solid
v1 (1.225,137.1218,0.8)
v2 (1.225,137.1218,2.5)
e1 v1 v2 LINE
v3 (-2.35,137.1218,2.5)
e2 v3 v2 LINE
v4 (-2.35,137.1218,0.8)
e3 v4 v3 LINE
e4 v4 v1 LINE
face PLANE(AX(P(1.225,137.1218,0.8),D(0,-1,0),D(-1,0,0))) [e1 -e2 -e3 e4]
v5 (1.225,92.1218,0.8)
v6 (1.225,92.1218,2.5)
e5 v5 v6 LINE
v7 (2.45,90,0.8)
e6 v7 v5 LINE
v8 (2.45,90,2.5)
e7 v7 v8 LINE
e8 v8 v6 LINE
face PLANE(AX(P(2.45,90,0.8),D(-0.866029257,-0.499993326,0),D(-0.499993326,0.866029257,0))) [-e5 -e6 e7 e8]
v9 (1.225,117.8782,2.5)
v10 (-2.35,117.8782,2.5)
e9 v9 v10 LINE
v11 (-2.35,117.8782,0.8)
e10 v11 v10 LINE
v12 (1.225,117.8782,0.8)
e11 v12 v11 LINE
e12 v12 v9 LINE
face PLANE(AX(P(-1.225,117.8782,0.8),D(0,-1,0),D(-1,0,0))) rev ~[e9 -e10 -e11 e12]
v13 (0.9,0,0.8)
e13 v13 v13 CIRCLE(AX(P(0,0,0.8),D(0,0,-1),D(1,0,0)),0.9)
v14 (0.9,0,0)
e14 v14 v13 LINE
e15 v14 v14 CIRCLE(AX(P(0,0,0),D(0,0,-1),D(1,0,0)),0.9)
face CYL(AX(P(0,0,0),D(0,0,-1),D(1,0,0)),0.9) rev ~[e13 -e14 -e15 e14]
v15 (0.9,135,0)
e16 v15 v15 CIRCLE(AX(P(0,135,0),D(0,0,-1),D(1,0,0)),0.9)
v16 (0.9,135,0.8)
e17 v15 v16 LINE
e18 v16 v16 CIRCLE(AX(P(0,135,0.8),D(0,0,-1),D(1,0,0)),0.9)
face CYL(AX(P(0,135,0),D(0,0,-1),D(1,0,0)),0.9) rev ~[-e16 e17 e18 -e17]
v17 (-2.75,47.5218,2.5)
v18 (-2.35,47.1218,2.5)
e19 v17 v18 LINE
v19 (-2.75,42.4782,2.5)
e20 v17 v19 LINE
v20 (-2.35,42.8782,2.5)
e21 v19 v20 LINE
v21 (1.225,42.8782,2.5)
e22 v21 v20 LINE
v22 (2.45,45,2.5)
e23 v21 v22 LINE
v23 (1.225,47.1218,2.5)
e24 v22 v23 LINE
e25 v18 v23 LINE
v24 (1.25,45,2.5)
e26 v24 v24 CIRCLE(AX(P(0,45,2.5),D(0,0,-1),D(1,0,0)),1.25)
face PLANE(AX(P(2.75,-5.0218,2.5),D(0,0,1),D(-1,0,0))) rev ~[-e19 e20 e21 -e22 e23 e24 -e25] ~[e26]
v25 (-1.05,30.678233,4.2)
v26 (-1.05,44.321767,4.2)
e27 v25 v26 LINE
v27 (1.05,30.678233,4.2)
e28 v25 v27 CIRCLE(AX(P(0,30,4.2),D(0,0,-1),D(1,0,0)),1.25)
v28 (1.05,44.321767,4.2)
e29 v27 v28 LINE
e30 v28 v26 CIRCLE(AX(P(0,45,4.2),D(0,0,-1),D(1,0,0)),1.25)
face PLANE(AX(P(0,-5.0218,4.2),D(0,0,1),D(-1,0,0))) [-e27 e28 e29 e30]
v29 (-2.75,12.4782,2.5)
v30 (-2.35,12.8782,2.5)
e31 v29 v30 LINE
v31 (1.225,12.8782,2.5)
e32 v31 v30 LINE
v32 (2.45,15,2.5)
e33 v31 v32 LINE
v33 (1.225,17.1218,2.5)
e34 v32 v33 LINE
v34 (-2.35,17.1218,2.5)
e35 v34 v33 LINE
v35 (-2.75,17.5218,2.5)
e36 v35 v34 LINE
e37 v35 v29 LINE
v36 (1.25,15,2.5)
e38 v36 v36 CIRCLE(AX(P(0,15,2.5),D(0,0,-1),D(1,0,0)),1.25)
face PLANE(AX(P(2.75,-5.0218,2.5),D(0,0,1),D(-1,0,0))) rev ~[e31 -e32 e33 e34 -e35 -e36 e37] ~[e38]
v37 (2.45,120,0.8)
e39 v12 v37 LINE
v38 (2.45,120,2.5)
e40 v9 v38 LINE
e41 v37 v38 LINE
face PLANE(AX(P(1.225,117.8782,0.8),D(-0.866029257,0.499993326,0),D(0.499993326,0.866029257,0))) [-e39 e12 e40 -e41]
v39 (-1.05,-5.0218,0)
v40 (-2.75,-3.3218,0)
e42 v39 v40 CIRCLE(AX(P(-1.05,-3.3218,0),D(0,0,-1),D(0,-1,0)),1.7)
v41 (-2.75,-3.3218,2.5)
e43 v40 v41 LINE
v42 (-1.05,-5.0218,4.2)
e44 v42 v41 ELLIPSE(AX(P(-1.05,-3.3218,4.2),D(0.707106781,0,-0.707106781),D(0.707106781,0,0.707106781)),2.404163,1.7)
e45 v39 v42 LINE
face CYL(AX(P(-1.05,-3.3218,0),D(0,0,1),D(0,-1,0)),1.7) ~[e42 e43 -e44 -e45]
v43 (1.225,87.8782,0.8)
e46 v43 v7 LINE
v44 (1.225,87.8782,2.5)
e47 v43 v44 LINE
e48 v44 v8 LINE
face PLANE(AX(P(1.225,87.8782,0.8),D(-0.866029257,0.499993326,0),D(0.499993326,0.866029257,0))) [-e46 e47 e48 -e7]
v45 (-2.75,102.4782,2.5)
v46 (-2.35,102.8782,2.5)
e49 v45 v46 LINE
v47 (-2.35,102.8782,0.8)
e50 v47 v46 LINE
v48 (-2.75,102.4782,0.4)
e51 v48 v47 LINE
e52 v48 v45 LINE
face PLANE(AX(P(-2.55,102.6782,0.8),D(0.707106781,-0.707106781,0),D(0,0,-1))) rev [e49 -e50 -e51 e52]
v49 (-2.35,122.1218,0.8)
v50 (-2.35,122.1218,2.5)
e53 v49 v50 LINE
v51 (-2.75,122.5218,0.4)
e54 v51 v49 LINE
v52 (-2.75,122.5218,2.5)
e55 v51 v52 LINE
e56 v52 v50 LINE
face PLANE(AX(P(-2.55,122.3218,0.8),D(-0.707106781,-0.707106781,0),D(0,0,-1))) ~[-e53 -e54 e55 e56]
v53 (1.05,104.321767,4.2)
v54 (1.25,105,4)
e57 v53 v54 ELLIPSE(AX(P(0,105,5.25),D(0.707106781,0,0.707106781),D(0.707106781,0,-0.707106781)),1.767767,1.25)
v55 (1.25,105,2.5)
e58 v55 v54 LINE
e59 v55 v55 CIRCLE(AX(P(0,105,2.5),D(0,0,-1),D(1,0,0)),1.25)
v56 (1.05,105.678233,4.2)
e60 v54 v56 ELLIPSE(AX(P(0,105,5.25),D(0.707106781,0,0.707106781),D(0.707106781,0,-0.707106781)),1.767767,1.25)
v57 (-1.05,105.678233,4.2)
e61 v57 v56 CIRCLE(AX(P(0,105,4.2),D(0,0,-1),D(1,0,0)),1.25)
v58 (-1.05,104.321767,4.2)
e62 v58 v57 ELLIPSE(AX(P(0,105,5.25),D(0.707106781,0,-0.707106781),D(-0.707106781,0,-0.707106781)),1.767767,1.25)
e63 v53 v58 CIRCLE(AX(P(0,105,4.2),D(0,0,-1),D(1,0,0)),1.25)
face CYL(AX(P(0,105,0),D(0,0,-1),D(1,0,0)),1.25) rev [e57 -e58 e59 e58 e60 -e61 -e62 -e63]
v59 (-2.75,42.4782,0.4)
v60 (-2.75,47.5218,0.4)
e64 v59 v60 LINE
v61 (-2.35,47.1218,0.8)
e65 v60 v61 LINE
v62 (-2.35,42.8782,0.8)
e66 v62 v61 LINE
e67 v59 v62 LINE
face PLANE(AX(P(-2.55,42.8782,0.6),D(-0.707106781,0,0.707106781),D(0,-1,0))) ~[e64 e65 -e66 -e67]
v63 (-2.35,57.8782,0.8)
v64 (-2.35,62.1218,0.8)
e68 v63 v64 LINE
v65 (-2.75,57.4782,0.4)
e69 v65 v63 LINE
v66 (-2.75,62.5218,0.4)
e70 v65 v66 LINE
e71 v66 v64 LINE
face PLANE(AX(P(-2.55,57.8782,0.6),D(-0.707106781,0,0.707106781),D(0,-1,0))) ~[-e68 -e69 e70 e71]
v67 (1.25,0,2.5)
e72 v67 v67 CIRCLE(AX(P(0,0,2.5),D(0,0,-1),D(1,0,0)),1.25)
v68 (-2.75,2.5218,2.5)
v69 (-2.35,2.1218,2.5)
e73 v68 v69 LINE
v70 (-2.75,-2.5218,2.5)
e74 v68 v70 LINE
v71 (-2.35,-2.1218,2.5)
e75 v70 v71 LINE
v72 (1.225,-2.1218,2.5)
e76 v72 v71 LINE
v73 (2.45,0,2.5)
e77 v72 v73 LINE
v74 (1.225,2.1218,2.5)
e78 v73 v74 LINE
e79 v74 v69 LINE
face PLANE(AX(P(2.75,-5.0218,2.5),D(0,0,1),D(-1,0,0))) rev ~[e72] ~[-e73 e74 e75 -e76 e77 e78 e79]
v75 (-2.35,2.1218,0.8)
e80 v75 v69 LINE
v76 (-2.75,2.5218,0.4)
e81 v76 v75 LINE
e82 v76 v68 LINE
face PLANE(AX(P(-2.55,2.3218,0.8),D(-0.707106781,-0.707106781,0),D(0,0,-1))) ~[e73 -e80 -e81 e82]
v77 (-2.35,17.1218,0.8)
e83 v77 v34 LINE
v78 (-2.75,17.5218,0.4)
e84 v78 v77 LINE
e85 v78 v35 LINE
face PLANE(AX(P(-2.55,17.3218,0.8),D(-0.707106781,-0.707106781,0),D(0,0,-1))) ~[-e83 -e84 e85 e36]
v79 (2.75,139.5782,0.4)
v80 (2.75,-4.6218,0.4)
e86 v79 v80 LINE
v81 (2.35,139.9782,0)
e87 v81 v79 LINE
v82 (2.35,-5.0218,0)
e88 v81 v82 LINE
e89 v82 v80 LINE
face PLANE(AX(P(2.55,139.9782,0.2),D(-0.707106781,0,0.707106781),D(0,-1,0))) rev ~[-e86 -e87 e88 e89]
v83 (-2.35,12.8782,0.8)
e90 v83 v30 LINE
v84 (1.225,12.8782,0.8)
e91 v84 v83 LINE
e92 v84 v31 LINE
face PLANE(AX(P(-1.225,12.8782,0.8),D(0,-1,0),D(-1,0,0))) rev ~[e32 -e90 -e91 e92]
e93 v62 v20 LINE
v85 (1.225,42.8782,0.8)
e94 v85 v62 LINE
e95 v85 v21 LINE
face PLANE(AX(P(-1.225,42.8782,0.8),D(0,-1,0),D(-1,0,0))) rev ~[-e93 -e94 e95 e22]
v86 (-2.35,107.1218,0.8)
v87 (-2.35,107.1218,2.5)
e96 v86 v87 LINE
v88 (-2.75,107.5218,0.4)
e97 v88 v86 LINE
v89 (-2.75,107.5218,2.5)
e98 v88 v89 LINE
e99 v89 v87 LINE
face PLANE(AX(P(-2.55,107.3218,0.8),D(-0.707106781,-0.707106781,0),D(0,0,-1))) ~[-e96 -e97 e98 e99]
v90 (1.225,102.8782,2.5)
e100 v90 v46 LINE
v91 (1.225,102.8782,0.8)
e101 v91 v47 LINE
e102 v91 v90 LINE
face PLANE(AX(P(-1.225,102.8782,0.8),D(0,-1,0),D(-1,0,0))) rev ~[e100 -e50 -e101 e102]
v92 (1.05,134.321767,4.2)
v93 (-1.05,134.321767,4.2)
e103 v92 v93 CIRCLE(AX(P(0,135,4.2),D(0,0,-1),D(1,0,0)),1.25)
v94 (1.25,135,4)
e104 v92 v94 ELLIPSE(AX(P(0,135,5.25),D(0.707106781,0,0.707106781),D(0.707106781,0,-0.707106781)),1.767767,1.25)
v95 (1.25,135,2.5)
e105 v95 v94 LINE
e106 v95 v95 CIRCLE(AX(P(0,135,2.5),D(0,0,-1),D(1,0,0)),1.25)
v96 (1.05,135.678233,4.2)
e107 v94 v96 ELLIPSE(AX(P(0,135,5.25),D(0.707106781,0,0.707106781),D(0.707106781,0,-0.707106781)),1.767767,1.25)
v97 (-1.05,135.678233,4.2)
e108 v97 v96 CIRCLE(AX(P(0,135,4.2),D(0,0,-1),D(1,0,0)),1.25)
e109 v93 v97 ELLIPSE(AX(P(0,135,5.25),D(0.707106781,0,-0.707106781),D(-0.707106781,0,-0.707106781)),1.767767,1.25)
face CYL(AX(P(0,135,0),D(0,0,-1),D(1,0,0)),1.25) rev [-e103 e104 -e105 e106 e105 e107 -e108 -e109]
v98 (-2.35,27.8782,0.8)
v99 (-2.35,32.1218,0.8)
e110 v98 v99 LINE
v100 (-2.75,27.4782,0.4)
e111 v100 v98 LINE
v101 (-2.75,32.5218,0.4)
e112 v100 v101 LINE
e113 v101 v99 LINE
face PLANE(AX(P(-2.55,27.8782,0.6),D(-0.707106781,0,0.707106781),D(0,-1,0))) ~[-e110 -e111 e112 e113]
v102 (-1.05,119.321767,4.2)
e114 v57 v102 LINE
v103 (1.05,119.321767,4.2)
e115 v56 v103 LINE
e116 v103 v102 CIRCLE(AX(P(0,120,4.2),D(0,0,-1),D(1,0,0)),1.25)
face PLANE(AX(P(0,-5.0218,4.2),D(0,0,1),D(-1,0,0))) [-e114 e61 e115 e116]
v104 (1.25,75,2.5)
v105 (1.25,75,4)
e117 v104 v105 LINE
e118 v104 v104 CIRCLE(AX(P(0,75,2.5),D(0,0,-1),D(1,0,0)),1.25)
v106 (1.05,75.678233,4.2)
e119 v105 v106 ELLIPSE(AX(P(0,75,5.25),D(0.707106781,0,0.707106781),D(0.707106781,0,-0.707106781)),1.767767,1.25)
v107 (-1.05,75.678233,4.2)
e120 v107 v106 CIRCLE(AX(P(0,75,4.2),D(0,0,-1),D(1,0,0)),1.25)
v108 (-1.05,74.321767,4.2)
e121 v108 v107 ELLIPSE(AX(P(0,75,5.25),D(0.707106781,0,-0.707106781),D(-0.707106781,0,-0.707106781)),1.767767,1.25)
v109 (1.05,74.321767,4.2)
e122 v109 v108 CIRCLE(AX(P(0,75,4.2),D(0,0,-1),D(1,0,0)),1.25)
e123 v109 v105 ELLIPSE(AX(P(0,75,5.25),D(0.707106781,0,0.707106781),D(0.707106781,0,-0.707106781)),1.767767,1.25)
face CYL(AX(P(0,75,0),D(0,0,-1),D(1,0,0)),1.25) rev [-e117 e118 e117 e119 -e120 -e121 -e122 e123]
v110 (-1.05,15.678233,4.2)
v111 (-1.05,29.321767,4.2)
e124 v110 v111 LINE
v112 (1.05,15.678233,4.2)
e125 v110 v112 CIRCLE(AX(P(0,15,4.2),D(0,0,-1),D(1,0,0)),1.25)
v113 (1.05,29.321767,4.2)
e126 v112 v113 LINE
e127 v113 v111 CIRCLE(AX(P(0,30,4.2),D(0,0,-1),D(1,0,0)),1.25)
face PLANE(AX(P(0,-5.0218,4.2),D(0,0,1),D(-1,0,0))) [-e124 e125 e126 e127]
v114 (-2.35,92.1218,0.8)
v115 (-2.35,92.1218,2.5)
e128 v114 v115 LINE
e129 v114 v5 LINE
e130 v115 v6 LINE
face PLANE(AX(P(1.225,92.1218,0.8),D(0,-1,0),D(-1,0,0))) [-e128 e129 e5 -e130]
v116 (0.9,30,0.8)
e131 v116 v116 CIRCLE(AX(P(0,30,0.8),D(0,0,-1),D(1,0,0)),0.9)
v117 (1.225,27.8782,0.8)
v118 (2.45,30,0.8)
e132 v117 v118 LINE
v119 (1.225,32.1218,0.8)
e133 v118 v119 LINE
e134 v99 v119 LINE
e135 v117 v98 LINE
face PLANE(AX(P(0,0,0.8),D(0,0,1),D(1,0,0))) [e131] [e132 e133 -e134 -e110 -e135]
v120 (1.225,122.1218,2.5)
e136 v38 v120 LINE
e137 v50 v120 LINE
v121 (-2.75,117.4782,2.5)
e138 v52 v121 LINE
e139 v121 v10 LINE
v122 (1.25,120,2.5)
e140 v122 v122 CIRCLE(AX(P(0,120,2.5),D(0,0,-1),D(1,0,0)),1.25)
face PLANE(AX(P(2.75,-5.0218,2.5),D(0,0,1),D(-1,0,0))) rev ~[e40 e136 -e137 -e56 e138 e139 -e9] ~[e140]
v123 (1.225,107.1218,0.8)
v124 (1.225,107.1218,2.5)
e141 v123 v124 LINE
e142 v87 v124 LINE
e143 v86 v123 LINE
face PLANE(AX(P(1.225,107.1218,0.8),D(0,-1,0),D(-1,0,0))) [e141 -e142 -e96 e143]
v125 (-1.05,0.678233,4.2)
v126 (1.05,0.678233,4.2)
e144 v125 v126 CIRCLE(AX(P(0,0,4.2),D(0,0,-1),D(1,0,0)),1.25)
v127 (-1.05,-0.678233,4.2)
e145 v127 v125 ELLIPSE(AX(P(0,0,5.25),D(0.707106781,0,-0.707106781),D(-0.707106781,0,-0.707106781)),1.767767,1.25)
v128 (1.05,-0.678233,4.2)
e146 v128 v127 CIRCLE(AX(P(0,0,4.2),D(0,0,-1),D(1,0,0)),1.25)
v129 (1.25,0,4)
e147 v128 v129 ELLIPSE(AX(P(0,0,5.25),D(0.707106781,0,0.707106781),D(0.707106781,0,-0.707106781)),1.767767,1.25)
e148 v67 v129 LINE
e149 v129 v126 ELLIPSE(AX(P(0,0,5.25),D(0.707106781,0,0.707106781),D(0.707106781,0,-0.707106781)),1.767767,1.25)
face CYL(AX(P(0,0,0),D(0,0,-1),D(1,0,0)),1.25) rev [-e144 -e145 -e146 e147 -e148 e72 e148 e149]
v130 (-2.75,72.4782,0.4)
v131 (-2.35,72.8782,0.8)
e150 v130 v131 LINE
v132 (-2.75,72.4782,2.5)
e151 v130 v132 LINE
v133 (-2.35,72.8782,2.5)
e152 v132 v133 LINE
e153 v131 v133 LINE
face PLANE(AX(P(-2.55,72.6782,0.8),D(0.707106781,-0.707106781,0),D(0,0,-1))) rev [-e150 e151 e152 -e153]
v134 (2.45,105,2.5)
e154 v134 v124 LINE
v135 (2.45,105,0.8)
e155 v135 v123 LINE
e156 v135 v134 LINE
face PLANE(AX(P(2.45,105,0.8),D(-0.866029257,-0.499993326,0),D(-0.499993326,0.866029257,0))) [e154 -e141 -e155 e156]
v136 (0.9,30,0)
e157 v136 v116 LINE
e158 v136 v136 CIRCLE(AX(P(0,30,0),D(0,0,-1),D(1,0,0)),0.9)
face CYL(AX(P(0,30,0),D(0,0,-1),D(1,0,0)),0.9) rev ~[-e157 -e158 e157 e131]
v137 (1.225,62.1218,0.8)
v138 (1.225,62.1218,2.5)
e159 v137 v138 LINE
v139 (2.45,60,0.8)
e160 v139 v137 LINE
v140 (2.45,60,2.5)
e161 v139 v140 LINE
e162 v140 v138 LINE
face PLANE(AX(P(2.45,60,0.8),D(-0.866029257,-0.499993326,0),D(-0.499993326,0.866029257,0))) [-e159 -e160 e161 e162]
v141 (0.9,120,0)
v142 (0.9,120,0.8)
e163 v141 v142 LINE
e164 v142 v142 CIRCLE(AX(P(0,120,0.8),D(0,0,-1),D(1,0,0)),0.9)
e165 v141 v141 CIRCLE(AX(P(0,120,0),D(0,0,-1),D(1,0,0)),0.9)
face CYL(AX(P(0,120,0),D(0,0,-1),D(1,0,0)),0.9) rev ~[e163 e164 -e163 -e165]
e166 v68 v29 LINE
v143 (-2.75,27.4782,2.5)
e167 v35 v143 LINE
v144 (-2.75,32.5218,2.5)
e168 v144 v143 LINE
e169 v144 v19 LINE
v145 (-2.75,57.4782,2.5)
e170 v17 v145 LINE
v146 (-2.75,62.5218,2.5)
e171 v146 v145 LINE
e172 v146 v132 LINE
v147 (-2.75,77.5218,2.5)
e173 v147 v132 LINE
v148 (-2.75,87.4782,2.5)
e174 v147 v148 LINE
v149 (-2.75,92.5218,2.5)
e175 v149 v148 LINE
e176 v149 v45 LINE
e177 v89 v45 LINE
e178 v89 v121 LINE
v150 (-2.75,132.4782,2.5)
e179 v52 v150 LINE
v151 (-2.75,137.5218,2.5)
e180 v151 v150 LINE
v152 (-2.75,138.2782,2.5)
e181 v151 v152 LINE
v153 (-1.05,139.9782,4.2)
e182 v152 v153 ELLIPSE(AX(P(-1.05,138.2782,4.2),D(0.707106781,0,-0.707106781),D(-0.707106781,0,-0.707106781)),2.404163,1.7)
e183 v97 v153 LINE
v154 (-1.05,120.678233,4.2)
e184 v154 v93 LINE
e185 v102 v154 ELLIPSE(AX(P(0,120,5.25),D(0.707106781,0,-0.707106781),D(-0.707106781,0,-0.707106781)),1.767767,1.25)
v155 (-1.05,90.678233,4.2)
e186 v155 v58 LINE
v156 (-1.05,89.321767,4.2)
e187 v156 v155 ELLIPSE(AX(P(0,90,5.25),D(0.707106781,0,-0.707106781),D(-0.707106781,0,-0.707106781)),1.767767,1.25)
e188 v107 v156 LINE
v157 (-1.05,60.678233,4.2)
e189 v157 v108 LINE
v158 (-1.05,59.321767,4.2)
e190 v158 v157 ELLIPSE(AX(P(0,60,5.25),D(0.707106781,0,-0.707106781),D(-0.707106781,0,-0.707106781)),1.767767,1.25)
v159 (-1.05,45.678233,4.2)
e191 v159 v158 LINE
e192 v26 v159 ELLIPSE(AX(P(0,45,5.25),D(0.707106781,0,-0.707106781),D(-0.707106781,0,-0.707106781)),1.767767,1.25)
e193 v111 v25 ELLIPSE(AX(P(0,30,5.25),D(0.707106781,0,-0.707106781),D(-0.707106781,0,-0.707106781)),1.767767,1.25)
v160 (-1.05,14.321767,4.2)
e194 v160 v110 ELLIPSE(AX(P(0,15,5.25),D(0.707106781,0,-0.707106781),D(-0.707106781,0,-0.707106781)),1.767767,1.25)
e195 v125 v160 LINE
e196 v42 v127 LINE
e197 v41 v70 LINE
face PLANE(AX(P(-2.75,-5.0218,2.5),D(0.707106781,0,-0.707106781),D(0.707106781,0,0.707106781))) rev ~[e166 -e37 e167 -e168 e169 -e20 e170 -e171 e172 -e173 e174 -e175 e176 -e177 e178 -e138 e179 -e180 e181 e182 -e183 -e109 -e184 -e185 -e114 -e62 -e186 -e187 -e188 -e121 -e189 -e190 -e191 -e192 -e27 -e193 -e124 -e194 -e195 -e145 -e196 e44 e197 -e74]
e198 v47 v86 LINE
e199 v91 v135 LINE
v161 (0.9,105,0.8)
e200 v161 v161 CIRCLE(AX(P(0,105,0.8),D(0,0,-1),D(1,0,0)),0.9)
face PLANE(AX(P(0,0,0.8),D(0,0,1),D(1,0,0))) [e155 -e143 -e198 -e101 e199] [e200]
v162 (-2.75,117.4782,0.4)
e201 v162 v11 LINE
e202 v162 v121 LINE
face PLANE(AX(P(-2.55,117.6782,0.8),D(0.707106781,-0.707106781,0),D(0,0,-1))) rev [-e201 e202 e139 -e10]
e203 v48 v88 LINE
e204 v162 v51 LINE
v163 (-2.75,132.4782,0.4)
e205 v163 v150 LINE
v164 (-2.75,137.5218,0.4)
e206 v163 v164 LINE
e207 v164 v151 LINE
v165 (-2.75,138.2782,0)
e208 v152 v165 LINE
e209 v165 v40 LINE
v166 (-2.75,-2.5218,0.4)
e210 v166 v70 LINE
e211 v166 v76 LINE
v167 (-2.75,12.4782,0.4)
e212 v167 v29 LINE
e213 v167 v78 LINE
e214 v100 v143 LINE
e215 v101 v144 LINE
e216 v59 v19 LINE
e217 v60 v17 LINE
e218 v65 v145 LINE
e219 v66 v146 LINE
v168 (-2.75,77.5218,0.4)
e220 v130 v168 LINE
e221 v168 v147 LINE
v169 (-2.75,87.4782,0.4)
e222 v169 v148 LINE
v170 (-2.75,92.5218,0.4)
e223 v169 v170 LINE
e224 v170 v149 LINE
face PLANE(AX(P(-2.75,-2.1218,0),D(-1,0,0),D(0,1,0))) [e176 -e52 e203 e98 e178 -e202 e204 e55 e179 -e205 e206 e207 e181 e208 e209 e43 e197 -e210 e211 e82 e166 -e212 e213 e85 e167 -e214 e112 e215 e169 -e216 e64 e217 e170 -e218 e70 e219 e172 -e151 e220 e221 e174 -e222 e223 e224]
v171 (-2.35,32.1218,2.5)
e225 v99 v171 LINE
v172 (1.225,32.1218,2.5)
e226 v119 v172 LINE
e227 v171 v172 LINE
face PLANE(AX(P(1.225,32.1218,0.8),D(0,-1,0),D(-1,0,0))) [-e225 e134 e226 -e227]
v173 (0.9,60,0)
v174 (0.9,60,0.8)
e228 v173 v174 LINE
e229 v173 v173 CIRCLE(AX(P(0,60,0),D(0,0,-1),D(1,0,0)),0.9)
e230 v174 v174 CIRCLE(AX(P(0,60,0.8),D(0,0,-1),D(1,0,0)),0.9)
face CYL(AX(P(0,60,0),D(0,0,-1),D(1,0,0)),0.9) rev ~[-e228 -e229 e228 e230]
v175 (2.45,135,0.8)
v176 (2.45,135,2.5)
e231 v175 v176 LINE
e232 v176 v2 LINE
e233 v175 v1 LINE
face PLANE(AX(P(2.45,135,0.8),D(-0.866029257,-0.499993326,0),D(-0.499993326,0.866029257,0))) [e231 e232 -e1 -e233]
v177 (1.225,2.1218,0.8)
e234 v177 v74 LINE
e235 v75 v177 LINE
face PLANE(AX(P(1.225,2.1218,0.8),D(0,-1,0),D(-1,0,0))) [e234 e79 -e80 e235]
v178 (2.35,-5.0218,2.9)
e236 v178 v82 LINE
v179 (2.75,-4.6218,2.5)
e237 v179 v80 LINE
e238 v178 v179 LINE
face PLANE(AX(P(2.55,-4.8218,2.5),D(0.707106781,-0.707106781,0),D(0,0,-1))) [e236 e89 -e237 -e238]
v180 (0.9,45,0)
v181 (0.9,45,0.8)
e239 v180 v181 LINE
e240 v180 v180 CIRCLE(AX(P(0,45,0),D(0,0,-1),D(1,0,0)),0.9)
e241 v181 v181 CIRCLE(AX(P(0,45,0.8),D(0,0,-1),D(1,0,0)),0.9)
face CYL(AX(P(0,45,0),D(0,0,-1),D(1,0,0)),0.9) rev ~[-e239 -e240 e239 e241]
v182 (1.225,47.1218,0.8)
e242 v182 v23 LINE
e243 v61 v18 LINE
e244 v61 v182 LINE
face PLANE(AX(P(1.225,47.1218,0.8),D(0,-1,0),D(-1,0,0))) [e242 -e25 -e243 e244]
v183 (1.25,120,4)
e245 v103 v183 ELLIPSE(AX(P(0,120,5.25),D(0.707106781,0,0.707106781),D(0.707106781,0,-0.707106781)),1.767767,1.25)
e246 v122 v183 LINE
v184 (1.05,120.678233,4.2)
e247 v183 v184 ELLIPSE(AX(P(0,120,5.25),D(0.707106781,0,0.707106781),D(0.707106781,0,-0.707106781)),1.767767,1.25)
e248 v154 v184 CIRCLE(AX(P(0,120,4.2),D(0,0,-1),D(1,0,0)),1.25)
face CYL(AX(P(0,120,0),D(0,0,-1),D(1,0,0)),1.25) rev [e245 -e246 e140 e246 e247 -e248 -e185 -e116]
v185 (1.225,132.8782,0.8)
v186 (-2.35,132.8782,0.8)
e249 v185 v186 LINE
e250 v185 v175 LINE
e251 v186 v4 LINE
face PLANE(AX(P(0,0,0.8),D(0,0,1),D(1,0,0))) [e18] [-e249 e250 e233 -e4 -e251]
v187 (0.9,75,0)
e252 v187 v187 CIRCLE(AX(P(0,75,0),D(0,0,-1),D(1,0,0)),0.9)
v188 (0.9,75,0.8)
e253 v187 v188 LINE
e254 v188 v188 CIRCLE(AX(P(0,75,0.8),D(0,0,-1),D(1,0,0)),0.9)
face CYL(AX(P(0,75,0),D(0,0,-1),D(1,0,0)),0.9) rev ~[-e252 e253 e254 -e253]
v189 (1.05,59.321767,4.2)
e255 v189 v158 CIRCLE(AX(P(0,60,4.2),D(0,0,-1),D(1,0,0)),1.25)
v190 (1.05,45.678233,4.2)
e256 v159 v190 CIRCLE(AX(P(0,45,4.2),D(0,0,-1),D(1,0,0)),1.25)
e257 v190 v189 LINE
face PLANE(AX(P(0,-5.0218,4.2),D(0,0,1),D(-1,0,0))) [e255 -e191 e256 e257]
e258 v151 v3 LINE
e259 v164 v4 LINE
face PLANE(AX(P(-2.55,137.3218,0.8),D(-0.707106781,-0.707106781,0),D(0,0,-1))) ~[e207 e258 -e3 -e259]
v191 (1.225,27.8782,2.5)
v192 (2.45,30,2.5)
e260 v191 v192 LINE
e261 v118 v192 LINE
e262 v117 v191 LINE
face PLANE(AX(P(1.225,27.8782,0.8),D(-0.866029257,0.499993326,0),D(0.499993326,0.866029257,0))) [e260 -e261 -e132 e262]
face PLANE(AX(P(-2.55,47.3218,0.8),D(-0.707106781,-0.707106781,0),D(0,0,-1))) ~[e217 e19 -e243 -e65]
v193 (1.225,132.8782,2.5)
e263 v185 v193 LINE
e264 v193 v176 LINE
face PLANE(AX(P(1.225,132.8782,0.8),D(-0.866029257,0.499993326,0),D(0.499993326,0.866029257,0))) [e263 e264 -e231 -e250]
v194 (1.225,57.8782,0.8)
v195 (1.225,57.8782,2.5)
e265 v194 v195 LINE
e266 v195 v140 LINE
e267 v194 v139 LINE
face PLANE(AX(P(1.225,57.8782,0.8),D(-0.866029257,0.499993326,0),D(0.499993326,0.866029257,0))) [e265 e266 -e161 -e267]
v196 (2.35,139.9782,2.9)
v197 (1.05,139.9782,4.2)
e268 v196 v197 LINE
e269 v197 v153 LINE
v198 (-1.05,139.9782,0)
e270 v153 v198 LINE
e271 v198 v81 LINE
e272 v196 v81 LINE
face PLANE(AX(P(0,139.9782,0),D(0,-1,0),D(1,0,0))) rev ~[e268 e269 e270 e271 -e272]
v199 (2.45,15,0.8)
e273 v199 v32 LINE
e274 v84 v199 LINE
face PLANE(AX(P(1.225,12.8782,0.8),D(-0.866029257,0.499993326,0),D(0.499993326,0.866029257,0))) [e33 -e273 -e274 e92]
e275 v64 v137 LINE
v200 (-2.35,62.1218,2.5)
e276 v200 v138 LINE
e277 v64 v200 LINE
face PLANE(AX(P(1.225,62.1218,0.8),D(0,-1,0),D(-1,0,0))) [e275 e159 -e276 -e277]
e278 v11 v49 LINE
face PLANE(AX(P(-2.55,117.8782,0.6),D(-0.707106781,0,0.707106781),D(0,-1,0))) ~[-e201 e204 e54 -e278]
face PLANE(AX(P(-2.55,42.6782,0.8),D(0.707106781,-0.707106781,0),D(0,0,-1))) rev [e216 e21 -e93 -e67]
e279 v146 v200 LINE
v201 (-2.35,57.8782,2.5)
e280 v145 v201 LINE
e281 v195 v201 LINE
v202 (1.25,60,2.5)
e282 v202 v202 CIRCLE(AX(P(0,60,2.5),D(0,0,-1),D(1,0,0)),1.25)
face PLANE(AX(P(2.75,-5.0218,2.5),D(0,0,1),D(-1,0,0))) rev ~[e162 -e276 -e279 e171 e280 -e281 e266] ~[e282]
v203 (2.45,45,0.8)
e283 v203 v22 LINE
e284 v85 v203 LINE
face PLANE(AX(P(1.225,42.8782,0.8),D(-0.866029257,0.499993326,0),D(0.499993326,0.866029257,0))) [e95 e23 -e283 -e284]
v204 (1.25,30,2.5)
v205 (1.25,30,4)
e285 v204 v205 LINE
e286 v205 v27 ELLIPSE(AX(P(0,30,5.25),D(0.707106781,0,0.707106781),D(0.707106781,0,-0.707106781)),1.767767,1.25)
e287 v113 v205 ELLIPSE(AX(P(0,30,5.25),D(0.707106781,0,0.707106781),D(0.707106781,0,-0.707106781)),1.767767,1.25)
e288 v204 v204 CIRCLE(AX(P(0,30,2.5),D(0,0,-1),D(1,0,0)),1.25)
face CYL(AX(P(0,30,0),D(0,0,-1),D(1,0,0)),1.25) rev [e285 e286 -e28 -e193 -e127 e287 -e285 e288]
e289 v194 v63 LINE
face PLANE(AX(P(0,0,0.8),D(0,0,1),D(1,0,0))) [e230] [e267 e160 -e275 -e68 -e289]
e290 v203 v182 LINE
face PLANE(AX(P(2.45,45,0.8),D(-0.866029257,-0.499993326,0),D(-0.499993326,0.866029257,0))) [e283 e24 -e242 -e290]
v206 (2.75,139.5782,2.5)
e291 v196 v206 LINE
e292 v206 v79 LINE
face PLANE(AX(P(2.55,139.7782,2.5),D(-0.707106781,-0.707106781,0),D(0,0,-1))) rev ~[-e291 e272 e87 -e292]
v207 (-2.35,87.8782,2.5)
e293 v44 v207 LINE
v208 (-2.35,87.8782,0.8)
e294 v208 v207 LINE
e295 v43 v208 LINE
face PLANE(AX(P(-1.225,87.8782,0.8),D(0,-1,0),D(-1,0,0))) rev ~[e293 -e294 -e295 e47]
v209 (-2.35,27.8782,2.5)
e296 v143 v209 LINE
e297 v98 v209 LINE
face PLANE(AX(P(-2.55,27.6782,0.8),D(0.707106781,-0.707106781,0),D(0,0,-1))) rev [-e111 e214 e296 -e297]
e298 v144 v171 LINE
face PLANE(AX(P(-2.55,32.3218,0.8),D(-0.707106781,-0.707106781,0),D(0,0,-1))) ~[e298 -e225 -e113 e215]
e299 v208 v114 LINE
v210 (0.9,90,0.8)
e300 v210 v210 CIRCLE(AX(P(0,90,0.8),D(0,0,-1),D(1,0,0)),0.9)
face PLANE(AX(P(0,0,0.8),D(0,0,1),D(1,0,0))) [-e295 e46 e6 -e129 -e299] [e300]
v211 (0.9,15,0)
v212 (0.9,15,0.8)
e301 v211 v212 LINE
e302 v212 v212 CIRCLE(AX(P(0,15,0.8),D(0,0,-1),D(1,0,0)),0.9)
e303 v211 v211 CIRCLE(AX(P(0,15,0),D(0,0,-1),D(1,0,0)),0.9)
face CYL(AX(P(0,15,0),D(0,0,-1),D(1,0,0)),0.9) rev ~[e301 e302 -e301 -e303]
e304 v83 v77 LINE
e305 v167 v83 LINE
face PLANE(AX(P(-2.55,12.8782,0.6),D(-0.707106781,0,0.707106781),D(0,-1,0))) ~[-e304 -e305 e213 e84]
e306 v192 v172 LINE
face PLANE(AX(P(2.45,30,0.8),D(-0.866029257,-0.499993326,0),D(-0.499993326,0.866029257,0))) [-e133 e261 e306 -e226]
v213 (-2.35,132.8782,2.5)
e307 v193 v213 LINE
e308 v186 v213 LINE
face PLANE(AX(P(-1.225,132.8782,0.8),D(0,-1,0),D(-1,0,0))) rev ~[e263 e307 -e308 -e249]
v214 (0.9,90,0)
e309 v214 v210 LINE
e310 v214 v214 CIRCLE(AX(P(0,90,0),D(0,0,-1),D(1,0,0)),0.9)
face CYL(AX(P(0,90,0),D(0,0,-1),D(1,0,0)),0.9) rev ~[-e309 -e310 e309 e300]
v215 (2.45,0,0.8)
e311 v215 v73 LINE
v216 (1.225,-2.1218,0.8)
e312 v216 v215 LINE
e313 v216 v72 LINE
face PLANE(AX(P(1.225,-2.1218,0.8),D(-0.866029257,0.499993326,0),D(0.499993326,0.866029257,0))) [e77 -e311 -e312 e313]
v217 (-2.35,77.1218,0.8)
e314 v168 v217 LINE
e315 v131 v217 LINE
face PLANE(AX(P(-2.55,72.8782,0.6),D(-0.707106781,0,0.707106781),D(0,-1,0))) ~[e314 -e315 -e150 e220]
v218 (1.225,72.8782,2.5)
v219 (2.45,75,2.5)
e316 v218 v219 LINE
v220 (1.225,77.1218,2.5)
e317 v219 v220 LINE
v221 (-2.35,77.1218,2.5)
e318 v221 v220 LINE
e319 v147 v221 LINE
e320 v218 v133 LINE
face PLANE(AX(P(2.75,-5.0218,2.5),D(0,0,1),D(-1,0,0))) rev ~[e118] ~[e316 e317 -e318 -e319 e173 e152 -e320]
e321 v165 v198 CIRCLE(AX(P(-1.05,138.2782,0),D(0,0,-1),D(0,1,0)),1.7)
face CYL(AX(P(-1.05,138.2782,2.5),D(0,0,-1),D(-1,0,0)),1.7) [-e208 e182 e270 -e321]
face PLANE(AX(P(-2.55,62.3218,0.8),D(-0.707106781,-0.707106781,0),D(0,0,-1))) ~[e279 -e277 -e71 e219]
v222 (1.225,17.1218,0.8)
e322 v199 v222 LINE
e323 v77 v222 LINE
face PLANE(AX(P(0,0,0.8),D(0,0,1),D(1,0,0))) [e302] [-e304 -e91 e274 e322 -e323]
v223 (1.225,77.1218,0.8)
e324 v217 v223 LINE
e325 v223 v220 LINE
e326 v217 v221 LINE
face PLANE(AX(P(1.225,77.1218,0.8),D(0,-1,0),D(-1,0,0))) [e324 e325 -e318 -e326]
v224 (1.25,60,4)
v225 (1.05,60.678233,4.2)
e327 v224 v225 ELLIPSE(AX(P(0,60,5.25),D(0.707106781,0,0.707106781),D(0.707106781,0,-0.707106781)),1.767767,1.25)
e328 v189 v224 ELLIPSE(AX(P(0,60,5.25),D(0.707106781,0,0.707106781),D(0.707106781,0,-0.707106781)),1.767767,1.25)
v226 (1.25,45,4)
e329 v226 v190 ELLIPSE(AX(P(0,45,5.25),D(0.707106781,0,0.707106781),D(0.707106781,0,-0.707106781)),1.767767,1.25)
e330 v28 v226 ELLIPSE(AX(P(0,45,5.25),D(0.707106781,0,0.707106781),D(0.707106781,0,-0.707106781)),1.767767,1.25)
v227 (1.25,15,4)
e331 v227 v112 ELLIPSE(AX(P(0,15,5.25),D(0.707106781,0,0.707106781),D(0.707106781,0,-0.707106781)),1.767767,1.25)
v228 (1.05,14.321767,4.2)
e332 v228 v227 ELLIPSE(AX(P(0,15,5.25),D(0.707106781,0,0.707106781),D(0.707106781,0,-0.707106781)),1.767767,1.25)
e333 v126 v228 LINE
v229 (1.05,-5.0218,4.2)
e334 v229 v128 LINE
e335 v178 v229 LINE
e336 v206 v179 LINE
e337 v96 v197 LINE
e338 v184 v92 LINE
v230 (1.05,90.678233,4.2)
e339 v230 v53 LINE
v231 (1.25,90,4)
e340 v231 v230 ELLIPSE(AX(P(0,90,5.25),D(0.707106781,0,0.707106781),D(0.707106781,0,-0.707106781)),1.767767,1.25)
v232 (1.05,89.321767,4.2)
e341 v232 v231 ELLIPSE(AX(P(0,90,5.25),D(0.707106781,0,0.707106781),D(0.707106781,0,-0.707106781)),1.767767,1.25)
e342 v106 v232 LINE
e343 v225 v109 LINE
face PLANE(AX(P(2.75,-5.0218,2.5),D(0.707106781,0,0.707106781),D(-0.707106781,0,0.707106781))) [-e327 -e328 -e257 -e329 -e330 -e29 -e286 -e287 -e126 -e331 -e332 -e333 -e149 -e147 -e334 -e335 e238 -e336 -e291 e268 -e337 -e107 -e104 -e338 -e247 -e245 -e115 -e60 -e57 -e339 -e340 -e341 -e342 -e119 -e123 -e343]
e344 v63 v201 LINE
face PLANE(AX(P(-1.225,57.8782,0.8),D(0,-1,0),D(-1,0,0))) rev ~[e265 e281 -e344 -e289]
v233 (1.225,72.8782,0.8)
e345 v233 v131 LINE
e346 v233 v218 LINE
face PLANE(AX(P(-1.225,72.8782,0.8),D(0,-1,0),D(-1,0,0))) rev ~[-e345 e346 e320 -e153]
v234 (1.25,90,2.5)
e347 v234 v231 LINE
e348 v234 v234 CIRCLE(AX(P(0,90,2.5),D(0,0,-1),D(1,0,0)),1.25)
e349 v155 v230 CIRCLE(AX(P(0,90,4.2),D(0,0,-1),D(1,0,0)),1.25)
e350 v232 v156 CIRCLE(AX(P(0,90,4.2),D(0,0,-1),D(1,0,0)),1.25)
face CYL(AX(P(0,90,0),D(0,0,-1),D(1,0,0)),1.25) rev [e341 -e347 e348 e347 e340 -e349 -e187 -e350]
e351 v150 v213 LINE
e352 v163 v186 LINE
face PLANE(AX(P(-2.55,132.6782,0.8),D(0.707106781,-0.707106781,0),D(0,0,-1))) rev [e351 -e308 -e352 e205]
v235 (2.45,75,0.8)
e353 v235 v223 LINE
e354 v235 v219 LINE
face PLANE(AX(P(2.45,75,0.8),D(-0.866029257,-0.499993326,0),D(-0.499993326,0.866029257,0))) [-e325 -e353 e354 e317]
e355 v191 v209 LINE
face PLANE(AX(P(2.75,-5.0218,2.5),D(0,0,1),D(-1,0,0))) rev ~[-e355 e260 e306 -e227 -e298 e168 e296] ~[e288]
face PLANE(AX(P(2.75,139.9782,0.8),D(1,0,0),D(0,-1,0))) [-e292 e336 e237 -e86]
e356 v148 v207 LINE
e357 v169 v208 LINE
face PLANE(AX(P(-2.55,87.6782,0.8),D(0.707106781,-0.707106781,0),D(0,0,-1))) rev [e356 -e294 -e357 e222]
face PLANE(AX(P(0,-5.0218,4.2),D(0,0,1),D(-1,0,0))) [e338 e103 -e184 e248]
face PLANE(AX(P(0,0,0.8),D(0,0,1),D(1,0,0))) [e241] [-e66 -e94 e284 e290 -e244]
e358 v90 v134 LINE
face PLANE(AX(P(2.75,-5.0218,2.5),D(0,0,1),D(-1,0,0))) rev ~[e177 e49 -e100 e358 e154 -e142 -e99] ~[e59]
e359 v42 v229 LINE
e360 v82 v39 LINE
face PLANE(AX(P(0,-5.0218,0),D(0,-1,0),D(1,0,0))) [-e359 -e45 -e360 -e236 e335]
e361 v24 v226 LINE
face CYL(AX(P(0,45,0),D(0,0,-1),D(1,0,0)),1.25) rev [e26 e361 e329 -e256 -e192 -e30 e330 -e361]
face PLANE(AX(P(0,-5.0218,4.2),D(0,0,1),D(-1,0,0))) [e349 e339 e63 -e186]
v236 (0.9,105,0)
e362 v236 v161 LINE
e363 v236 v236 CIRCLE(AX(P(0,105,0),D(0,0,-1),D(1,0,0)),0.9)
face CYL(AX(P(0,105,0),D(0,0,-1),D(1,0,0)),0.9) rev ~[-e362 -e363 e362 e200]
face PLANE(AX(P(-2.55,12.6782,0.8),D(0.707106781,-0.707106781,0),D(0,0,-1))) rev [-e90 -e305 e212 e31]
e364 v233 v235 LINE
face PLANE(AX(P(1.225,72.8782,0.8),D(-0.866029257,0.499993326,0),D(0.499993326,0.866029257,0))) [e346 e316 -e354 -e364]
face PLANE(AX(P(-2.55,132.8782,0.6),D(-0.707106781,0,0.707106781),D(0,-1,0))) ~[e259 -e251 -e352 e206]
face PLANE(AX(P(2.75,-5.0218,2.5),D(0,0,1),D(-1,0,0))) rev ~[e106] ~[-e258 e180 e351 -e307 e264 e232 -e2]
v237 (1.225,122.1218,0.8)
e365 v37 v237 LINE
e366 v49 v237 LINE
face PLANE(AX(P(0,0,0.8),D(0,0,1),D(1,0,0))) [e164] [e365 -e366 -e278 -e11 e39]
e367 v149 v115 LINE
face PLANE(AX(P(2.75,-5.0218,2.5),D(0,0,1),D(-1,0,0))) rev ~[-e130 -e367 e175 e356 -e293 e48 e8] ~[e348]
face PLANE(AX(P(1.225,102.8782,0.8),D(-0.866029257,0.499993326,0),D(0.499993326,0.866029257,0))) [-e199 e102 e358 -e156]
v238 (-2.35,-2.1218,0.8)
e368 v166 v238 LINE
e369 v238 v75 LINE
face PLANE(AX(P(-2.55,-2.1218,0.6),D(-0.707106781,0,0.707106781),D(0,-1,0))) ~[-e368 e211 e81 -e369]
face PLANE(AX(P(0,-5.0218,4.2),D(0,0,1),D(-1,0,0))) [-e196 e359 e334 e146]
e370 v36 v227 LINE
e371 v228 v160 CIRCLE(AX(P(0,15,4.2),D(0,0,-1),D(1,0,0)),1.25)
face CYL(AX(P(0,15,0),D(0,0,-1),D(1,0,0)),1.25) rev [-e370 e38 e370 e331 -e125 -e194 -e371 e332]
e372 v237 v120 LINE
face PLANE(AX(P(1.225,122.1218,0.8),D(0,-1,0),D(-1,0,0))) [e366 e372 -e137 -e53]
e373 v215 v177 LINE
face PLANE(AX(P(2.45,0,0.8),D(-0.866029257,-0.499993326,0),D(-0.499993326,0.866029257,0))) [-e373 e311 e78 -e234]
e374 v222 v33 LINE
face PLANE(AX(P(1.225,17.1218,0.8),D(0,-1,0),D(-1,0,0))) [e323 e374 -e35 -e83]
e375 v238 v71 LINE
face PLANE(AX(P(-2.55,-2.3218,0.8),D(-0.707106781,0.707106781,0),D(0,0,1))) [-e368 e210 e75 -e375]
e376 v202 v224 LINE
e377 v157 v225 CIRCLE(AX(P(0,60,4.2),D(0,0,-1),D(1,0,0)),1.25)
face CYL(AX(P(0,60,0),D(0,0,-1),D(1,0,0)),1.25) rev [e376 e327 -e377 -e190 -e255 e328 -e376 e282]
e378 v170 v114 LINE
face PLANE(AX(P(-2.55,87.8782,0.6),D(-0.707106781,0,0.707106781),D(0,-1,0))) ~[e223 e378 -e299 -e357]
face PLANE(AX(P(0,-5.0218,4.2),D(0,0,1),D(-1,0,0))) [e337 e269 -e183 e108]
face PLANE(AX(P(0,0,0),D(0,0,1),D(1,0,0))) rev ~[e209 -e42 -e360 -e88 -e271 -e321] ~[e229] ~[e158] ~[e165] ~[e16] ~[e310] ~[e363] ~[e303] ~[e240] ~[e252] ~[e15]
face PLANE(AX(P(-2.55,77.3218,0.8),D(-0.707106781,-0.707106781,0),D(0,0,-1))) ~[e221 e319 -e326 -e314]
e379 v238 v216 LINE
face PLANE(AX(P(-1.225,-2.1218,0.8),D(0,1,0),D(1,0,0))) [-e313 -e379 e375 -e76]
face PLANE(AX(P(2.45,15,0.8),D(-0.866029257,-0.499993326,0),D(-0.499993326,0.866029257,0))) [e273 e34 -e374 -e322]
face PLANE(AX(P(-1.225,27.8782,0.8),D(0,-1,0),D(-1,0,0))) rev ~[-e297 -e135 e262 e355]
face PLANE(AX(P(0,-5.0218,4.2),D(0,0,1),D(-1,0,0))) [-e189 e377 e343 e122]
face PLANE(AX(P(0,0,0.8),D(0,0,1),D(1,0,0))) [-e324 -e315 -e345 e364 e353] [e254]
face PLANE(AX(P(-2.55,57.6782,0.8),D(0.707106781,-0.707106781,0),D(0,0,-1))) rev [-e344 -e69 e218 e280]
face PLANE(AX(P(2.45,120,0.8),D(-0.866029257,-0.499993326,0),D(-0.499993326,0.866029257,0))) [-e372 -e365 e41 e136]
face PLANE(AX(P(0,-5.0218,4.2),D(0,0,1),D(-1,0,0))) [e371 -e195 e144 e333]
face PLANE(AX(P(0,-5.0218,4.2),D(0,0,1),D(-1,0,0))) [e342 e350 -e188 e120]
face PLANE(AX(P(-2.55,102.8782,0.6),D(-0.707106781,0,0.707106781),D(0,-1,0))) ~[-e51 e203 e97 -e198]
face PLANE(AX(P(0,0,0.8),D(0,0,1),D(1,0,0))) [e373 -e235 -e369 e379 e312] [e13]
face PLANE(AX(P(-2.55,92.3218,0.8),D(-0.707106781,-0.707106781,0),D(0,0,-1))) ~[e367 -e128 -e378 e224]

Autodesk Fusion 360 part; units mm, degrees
sketch "Sketch1" plane through (0, 0, 0) normal (0, 0, 1) x (1, 0, 0)
  circle A0 centre (0, 0) radius 1.25
  line L0 (2.45, 0) -> (1.225, 2.1218)
  line L1 (1.225, 2.1218) -> (-1.225, 2.1218)
  line L2 (-1.225, 2.1218) -> (-2.45, 0) construction
  line L3 (-2.45, 0) -> (-1.225, -2.1218) construction
  line L4 (-1.225, -2.1218) -> (1.225, -2.1218)
  line L5 (1.225, -2.1218) -> (2.45, 0)
  line L6 (2.75, 223.4444) -> (2.75, -43.6896) construction
  line L7 (-2.75, 222.414) -> (-2.75, -48.8416) construction
  line L8 (-4.3569, -5.0218) -> (6.2765, -5.0218) construction
  line L9 (-4.4785, 139.9782) -> (4.5564, 139.9782) construction
  line L10 (-1.225, 2.1218) -> (-4.4593, 2.1218)
  line L11 (-1.225, -2.1218) -> (-4.4422, -2.1218)
  line L12 (-2.75, 139.9782) -> (2.75, 139.9782)
  line L13 (2.75, 139.9782) -> (2.75, -5.0218)
  line L14 (2.75, -5.0218) -> (-2.75, -5.0218)
  line L15 (-2.75, -5.0218) -> (-2.75, 139.9782)
  line L16 (-1.225, 17.1218) -> (-4.4593, 17.1218)
  line L17 (1.225, 17.1218) -> (-1.225, 17.1218)
  line L18 (2.45, 15) -> (1.225, 17.1218)
  line L19 (1.225, 12.8782) -> (2.45, 15)
  line L20 (-1.225, 12.8782) -> (1.225, 12.8782)
  line L21 (-1.225, 12.8782) -> (-4.4422, 12.8782)
  circle A1 centre (0, 15) radius 1.25
  line L22 (-1.225, 17.1218) -> (-2.45, 15) construction
  line L23 (-2.45, 15) -> (-1.225, 12.8782) construction
  line L24 (-1.225, 32.1218) -> (-4.4593, 32.1218)
  line L25 (1.225, 32.1218) -> (-1.225, 32.1218)
  line L26 (2.45, 30) -> (1.225, 32.1218)
  line L27 (1.225, 27.8782) -> (2.45, 30)
  line L28 (-1.225, 27.8782) -> (1.225, 27.8782)
  line L29 (-1.225, 27.8782) -> (-4.4422, 27.8782)
  circle A2 centre (0, 30) radius 1.25
  line L30 (-1.225, 32.1218) -> (-2.45, 30) construction
  line L31 (-2.45, 30) -> (-1.225, 27.8782) construction
  line L32 (-1.225, 47.1218) -> (-4.4593, 47.1218)
  line L33 (1.225, 47.1218) -> (-1.225, 47.1218)
  line L34 (2.45, 45) -> (1.225, 47.1218)
  line L35 (1.225, 42.8782) -> (2.45, 45)
  line L36 (-1.225, 42.8782) -> (1.225, 42.8782)
  line L37 (-1.225, 42.8782) -> (-4.4422, 42.8782)
  circle A3 centre (0, 45) radius 1.25
  line L38 (-1.225, 47.1218) -> (-2.45, 45) construction
  line L39 (-2.45, 45) -> (-1.225, 42.8782) construction
  line L40 (-1.225, 62.1218) -> (-4.4593, 62.1218)
  line L41 (1.225, 62.1218) -> (-1.225, 62.1218)
  line L42 (2.45, 60) -> (1.225, 62.1218)
  line L43 (1.225, 57.8782) -> (2.45, 60)
  line L44 (-1.225, 57.8782) -> (1.225, 57.8782)
  line L45 (-1.225, 57.8782) -> (-4.4422, 57.8782)
  circle A4 centre (0, 60) radius 1.25
  line L46 (-1.225, 62.1218) -> (-2.45, 60) construction
  line L47 (-2.45, 60) -> (-1.225, 57.8782) construction
  line L48 (-1.225, 77.1218) -> (-4.4593, 77.1218)
  line L49 (1.225, 77.1218) -> (-1.225, 77.1218)
  line L50 (2.45, 75) -> (1.225, 77.1218)
  line L51 (1.225, 72.8782) -> (2.45, 75)
  line L52 (-1.225, 72.8782) -> (1.225, 72.8782)
  line L53 (-1.225, 72.8782) -> (-4.4422, 72.8782)
  circle A5 centre (0, 75) radius 1.25
  line L54 (-1.225, 77.1218) -> (-2.45, 75) construction
  line L55 (-2.45, 75) -> (-1.225, 72.8782) construction
  line L56 (-1.225, 92.1218) -> (-4.4593, 92.1218)
  line L57 (1.225, 92.1218) -> (-1.225, 92.1218)
  line L58 (2.45, 90) -> (1.225, 92.1218)
  line L59 (1.225, 87.8782) -> (2.45, 90)
  line L60 (-1.225, 87.8782) -> (1.225, 87.8782)
  line L61 (-1.225, 87.8782) -> (-4.4422, 87.8782)
  circle A6 centre (0, 90) radius 1.25
  line L62 (-1.225, 92.1218) -> (-2.45, 90) construction
  line L63 (-2.45, 90) -> (-1.225, 87.8782) construction
  line L64 (-1.225, 107.1218) -> (-4.4593, 107.1218)
  line L65 (1.225, 107.1218) -> (-1.225, 107.1218)
  line L66 (2.45, 105) -> (1.225, 107.1218)
  line L67 (1.225, 102.8782) -> (2.45, 105)
  line L68 (-1.225, 102.8782) -> (1.225, 102.8782)
  line L69 (-1.225, 102.8782) -> (-4.4422, 102.8782)
  circle A7 centre (0, 105) radius 1.25
  line L70 (-1.225, 107.1218) -> (-2.45, 105) construction
  line L71 (-2.45, 105) -> (-1.225, 102.8782) construction
  line L72 (-1.225, 122.1218) -> (-4.4593, 122.1218)
  line L73 (1.225, 122.1218) -> (-1.225, 122.1218)
  line L74 (2.45, 120) -> (1.225, 122.1218)
  line L75 (1.225, 117.8782) -> (2.45, 120)
  line L76 (-1.225, 117.8782) -> (1.225, 117.8782)
  line L77 (-1.225, 117.8782) -> (-4.4422, 117.8782)
  circle A8 centre (0, 120) radius 1.25
  line L78 (-1.225, 122.1218) -> (-2.45, 120) construction
  line L79 (-2.45, 120) -> (-1.225, 117.8782) construction
  line L80 (-1.225, 137.1218) -> (-4.4593, 137.1218)
  line L81 (1.225, 137.1218) -> (-1.225, 137.1218)
  line L82 (2.45, 135) -> (1.225, 137.1218)
  line L83 (1.225, 132.8782) -> (2.45, 135)
  line L84 (-1.225, 132.8782) -> (1.225, 132.8782)
  line L85 (-1.225, 132.8782) -> (-4.4422, 132.8782)
  circle A9 centre (0, 135) radius 1.25
  line L86 (-1.225, 137.1218) -> (-2.45, 135) construction
  line L87 (-2.45, 135) -> (-1.225, 132.8782) construction
  dimension "d1" = 2.5
  dimension "d2" = 2.45
  dimension "d3" = 2.75
  dimension "d4" = 2.75
  dimension "d5" = 2.9
  dimension "d6" = 145
  dimension "d9" = 0
  dimension "d10" = 15
  dimension "d28" = 4.2435
extrude "Extrude1" add sketch "Sketch1" along normal blind 0.8
extrude "Extrude2" add sketch "Sketch1" along normal blind 1.7 from surface at 0.8 contours L0 L1 L4 L5 L10 L11 L12 L13 L14 L15 L16 L17 L18 L19 L20 L21 L24 L25 L26 L27 L28 L29 L32 L33 L34 L35 L36 L37 L40 L41 L42 L43 L44 L45 L48 L49 L50 L51 L52 L53 L56 L57 L58 L59 L60 L61 L64 L65 L66 L67 L68 L69 L72 L73 L74 L75 L76 L77 L80 L81 L82 L83 L84 L85
sketch "Sketch3" plane through (0, -5.0218, 0) normal (0, -1, 0) x (1, 0, 0)
  line L0 (-2.75, 0) -> (2.75, 0)
  line L1 (2.75, 0) -> (2.75, 2.5)
  line L2 (2.75, 2.5) -> (-2.75, 2.5)
  line L3 (-2.75, 2.5) -> (-2.75, 0)
  line L4 (0, 2.5) -> (0, 4.2) construction
  line L5 (0, 4.2) -> (1.5, 4.2)
  line L6 (0, 4.2) -> (-1.5, 4.2)
  line L7 (-2.5489, 5.2) -> (3.0136, 5.2) construction
  line L8 (-2.75, 2.5) -> (-0.6708, 4.5792)
  line L9 (-2.75, 2.5) -> (0.1904, 2.5) construction
  line L10 (2.75, 2.5) -> (0.6708, 4.5792)
  dimension "d16" = 1.7
  dimension "d17" = 1.5
  dimension "d18" = 2.7
  dimension "d19" = 45
extrude "Extrude3" add sketch "Sketch3" against normal up to surface (145 mm away) contours L2 L5 L6 L8 L10
extrude "Extrude4" cut sketch "Sketch1" along normal blind 6.186 contours A0 | A1 | A2 | A3 | A4 | A5 | A6 | A7 | A8 | A9
chamfer "Chamfer1" distance 0.4 angle 45 3 edges at (2.75, 139.9782, 1.25) (2.75, 67.4782, 0) (2.75, -5.0218, 1.25)
fillet "Fillet1" radius 1.7 2 edges at (-2.75, 139.9782, 1.25) (-2.75, -5.0218, 1.25)
chamfer "Chamfer2" distance 0.4 angle 45 30 edges at (-2.75, 2.1218, 1.65) (-2.75, 0, 0.8) (-2.75, -2.1218, 1.65) (-2.75, 17.1218, 1.65) (-2.75, 15, 0.8) (-2.75, 12.8782, 1.65) (-2.75, 32.1218, 1.65) (-2.75, 30, 0.8) (-2.75, 27.8782, 1.65) (-2.75, 47.1218, 1.65) (-2.75, 45, 0.8) (-2.75, 42.8782, 1.65) (-2.75, 57.8782, 1.65) (-2.75, 60, 0.8) (-2.75, 62.1218, 1.65) (-2.75, 75, 0.8) (-2.75, 72.8782, 1.65) (-2.75, 77.1218, 1.65) (-2.75, 87.8782, 1.65) (-2.75, 90, 0.8) (-2.75, 92.1218, 1.65) (-2.75, 107.1218, 1.65) (-2.75, 105, 0.8) (-2.75, 102.8782, 1.65) (-2.75, 117.8782, 1.65) (-2.75, 120, 0.8) (-2.75, 122.1218, 1.65) (-2.75, 132.8782, 1.65) (-2.75, 135, 0.8) (-2.75, 137.1218, 1.65)
sketch "Sketch4" plane through (0, 0, 0) normal (0, 0, -1) x (1, 0, 0)
  circle A0 centre (0, -135) radius 1.25
  circle A1 centre (0, -120) radius 1.25
  circle A2 centre (0, -105) radius 1.25
  circle A3 centre (0, -90) radius 1.25
  circle A4 centre (0, -75) radius 1.25
  circle A5 centre (0, -60) radius 1.25
  circle A6 centre (0, -45) radius 1.25
  circle A7 centre (0, -30) radius 1.25
  circle A8 centre (0, -15) radius 1.25
  circle A9 centre (0, 0) radius 1.25
  arc A10 (-1.05, 5.0218) -> (-2.75, 3.3218) centre (-1.05, 3.3218) ccw
  line L0 (-2.75, 3.3218) -> (-2.75, -138.2782)
  arc A11 (-2.75, -138.2782) -> (-1.05, -139.9782) centre (-1.05, -138.2782) ccw
  line L1 (-1.05, -139.9782) -> (2.35, -139.9782)
  line L2 (2.35, -139.9782) -> (2.35, 5.0218)
  line L3 (2.35, 5.0218) -> (-1.05, 5.0218)
  circle A12 centre (0, 0) radius 0.9
  circle A13 centre (0, -15) radius 0.9
  circle A14 centre (0, -30) radius 0.9
  circle A15 centre (0, -45) radius 0.9
  circle A16 centre (0, -60) radius 0.9
  circle A17 centre (0, -75) radius 0.9
  circle A18 centre (0, -90) radius 0.9
  circle A19 centre (0, -105) radius 0.9
  circle A20 centre (0, -120) radius 0.9
  circle A21 centre (0, -135) radius 0.9
  dimension "d29" = 1.8
  dimension "d32" = 0
  dimension "d33" = -15
extrude "Extrude5" add sketch "Sketch4" against normal up to surface (0.8 mm away) contours A0 | A1 | A2 | A3 | A4 | A5 | A6 | A7 | A8 | A9
equation "d2 = ( 4.9 / 2 ) * 1 mm"
equation "d3 = ( 5.5 / 2 ) * 1 mm"
equation "d4 = ( 5.5 / 2 ) * 1 mm"
